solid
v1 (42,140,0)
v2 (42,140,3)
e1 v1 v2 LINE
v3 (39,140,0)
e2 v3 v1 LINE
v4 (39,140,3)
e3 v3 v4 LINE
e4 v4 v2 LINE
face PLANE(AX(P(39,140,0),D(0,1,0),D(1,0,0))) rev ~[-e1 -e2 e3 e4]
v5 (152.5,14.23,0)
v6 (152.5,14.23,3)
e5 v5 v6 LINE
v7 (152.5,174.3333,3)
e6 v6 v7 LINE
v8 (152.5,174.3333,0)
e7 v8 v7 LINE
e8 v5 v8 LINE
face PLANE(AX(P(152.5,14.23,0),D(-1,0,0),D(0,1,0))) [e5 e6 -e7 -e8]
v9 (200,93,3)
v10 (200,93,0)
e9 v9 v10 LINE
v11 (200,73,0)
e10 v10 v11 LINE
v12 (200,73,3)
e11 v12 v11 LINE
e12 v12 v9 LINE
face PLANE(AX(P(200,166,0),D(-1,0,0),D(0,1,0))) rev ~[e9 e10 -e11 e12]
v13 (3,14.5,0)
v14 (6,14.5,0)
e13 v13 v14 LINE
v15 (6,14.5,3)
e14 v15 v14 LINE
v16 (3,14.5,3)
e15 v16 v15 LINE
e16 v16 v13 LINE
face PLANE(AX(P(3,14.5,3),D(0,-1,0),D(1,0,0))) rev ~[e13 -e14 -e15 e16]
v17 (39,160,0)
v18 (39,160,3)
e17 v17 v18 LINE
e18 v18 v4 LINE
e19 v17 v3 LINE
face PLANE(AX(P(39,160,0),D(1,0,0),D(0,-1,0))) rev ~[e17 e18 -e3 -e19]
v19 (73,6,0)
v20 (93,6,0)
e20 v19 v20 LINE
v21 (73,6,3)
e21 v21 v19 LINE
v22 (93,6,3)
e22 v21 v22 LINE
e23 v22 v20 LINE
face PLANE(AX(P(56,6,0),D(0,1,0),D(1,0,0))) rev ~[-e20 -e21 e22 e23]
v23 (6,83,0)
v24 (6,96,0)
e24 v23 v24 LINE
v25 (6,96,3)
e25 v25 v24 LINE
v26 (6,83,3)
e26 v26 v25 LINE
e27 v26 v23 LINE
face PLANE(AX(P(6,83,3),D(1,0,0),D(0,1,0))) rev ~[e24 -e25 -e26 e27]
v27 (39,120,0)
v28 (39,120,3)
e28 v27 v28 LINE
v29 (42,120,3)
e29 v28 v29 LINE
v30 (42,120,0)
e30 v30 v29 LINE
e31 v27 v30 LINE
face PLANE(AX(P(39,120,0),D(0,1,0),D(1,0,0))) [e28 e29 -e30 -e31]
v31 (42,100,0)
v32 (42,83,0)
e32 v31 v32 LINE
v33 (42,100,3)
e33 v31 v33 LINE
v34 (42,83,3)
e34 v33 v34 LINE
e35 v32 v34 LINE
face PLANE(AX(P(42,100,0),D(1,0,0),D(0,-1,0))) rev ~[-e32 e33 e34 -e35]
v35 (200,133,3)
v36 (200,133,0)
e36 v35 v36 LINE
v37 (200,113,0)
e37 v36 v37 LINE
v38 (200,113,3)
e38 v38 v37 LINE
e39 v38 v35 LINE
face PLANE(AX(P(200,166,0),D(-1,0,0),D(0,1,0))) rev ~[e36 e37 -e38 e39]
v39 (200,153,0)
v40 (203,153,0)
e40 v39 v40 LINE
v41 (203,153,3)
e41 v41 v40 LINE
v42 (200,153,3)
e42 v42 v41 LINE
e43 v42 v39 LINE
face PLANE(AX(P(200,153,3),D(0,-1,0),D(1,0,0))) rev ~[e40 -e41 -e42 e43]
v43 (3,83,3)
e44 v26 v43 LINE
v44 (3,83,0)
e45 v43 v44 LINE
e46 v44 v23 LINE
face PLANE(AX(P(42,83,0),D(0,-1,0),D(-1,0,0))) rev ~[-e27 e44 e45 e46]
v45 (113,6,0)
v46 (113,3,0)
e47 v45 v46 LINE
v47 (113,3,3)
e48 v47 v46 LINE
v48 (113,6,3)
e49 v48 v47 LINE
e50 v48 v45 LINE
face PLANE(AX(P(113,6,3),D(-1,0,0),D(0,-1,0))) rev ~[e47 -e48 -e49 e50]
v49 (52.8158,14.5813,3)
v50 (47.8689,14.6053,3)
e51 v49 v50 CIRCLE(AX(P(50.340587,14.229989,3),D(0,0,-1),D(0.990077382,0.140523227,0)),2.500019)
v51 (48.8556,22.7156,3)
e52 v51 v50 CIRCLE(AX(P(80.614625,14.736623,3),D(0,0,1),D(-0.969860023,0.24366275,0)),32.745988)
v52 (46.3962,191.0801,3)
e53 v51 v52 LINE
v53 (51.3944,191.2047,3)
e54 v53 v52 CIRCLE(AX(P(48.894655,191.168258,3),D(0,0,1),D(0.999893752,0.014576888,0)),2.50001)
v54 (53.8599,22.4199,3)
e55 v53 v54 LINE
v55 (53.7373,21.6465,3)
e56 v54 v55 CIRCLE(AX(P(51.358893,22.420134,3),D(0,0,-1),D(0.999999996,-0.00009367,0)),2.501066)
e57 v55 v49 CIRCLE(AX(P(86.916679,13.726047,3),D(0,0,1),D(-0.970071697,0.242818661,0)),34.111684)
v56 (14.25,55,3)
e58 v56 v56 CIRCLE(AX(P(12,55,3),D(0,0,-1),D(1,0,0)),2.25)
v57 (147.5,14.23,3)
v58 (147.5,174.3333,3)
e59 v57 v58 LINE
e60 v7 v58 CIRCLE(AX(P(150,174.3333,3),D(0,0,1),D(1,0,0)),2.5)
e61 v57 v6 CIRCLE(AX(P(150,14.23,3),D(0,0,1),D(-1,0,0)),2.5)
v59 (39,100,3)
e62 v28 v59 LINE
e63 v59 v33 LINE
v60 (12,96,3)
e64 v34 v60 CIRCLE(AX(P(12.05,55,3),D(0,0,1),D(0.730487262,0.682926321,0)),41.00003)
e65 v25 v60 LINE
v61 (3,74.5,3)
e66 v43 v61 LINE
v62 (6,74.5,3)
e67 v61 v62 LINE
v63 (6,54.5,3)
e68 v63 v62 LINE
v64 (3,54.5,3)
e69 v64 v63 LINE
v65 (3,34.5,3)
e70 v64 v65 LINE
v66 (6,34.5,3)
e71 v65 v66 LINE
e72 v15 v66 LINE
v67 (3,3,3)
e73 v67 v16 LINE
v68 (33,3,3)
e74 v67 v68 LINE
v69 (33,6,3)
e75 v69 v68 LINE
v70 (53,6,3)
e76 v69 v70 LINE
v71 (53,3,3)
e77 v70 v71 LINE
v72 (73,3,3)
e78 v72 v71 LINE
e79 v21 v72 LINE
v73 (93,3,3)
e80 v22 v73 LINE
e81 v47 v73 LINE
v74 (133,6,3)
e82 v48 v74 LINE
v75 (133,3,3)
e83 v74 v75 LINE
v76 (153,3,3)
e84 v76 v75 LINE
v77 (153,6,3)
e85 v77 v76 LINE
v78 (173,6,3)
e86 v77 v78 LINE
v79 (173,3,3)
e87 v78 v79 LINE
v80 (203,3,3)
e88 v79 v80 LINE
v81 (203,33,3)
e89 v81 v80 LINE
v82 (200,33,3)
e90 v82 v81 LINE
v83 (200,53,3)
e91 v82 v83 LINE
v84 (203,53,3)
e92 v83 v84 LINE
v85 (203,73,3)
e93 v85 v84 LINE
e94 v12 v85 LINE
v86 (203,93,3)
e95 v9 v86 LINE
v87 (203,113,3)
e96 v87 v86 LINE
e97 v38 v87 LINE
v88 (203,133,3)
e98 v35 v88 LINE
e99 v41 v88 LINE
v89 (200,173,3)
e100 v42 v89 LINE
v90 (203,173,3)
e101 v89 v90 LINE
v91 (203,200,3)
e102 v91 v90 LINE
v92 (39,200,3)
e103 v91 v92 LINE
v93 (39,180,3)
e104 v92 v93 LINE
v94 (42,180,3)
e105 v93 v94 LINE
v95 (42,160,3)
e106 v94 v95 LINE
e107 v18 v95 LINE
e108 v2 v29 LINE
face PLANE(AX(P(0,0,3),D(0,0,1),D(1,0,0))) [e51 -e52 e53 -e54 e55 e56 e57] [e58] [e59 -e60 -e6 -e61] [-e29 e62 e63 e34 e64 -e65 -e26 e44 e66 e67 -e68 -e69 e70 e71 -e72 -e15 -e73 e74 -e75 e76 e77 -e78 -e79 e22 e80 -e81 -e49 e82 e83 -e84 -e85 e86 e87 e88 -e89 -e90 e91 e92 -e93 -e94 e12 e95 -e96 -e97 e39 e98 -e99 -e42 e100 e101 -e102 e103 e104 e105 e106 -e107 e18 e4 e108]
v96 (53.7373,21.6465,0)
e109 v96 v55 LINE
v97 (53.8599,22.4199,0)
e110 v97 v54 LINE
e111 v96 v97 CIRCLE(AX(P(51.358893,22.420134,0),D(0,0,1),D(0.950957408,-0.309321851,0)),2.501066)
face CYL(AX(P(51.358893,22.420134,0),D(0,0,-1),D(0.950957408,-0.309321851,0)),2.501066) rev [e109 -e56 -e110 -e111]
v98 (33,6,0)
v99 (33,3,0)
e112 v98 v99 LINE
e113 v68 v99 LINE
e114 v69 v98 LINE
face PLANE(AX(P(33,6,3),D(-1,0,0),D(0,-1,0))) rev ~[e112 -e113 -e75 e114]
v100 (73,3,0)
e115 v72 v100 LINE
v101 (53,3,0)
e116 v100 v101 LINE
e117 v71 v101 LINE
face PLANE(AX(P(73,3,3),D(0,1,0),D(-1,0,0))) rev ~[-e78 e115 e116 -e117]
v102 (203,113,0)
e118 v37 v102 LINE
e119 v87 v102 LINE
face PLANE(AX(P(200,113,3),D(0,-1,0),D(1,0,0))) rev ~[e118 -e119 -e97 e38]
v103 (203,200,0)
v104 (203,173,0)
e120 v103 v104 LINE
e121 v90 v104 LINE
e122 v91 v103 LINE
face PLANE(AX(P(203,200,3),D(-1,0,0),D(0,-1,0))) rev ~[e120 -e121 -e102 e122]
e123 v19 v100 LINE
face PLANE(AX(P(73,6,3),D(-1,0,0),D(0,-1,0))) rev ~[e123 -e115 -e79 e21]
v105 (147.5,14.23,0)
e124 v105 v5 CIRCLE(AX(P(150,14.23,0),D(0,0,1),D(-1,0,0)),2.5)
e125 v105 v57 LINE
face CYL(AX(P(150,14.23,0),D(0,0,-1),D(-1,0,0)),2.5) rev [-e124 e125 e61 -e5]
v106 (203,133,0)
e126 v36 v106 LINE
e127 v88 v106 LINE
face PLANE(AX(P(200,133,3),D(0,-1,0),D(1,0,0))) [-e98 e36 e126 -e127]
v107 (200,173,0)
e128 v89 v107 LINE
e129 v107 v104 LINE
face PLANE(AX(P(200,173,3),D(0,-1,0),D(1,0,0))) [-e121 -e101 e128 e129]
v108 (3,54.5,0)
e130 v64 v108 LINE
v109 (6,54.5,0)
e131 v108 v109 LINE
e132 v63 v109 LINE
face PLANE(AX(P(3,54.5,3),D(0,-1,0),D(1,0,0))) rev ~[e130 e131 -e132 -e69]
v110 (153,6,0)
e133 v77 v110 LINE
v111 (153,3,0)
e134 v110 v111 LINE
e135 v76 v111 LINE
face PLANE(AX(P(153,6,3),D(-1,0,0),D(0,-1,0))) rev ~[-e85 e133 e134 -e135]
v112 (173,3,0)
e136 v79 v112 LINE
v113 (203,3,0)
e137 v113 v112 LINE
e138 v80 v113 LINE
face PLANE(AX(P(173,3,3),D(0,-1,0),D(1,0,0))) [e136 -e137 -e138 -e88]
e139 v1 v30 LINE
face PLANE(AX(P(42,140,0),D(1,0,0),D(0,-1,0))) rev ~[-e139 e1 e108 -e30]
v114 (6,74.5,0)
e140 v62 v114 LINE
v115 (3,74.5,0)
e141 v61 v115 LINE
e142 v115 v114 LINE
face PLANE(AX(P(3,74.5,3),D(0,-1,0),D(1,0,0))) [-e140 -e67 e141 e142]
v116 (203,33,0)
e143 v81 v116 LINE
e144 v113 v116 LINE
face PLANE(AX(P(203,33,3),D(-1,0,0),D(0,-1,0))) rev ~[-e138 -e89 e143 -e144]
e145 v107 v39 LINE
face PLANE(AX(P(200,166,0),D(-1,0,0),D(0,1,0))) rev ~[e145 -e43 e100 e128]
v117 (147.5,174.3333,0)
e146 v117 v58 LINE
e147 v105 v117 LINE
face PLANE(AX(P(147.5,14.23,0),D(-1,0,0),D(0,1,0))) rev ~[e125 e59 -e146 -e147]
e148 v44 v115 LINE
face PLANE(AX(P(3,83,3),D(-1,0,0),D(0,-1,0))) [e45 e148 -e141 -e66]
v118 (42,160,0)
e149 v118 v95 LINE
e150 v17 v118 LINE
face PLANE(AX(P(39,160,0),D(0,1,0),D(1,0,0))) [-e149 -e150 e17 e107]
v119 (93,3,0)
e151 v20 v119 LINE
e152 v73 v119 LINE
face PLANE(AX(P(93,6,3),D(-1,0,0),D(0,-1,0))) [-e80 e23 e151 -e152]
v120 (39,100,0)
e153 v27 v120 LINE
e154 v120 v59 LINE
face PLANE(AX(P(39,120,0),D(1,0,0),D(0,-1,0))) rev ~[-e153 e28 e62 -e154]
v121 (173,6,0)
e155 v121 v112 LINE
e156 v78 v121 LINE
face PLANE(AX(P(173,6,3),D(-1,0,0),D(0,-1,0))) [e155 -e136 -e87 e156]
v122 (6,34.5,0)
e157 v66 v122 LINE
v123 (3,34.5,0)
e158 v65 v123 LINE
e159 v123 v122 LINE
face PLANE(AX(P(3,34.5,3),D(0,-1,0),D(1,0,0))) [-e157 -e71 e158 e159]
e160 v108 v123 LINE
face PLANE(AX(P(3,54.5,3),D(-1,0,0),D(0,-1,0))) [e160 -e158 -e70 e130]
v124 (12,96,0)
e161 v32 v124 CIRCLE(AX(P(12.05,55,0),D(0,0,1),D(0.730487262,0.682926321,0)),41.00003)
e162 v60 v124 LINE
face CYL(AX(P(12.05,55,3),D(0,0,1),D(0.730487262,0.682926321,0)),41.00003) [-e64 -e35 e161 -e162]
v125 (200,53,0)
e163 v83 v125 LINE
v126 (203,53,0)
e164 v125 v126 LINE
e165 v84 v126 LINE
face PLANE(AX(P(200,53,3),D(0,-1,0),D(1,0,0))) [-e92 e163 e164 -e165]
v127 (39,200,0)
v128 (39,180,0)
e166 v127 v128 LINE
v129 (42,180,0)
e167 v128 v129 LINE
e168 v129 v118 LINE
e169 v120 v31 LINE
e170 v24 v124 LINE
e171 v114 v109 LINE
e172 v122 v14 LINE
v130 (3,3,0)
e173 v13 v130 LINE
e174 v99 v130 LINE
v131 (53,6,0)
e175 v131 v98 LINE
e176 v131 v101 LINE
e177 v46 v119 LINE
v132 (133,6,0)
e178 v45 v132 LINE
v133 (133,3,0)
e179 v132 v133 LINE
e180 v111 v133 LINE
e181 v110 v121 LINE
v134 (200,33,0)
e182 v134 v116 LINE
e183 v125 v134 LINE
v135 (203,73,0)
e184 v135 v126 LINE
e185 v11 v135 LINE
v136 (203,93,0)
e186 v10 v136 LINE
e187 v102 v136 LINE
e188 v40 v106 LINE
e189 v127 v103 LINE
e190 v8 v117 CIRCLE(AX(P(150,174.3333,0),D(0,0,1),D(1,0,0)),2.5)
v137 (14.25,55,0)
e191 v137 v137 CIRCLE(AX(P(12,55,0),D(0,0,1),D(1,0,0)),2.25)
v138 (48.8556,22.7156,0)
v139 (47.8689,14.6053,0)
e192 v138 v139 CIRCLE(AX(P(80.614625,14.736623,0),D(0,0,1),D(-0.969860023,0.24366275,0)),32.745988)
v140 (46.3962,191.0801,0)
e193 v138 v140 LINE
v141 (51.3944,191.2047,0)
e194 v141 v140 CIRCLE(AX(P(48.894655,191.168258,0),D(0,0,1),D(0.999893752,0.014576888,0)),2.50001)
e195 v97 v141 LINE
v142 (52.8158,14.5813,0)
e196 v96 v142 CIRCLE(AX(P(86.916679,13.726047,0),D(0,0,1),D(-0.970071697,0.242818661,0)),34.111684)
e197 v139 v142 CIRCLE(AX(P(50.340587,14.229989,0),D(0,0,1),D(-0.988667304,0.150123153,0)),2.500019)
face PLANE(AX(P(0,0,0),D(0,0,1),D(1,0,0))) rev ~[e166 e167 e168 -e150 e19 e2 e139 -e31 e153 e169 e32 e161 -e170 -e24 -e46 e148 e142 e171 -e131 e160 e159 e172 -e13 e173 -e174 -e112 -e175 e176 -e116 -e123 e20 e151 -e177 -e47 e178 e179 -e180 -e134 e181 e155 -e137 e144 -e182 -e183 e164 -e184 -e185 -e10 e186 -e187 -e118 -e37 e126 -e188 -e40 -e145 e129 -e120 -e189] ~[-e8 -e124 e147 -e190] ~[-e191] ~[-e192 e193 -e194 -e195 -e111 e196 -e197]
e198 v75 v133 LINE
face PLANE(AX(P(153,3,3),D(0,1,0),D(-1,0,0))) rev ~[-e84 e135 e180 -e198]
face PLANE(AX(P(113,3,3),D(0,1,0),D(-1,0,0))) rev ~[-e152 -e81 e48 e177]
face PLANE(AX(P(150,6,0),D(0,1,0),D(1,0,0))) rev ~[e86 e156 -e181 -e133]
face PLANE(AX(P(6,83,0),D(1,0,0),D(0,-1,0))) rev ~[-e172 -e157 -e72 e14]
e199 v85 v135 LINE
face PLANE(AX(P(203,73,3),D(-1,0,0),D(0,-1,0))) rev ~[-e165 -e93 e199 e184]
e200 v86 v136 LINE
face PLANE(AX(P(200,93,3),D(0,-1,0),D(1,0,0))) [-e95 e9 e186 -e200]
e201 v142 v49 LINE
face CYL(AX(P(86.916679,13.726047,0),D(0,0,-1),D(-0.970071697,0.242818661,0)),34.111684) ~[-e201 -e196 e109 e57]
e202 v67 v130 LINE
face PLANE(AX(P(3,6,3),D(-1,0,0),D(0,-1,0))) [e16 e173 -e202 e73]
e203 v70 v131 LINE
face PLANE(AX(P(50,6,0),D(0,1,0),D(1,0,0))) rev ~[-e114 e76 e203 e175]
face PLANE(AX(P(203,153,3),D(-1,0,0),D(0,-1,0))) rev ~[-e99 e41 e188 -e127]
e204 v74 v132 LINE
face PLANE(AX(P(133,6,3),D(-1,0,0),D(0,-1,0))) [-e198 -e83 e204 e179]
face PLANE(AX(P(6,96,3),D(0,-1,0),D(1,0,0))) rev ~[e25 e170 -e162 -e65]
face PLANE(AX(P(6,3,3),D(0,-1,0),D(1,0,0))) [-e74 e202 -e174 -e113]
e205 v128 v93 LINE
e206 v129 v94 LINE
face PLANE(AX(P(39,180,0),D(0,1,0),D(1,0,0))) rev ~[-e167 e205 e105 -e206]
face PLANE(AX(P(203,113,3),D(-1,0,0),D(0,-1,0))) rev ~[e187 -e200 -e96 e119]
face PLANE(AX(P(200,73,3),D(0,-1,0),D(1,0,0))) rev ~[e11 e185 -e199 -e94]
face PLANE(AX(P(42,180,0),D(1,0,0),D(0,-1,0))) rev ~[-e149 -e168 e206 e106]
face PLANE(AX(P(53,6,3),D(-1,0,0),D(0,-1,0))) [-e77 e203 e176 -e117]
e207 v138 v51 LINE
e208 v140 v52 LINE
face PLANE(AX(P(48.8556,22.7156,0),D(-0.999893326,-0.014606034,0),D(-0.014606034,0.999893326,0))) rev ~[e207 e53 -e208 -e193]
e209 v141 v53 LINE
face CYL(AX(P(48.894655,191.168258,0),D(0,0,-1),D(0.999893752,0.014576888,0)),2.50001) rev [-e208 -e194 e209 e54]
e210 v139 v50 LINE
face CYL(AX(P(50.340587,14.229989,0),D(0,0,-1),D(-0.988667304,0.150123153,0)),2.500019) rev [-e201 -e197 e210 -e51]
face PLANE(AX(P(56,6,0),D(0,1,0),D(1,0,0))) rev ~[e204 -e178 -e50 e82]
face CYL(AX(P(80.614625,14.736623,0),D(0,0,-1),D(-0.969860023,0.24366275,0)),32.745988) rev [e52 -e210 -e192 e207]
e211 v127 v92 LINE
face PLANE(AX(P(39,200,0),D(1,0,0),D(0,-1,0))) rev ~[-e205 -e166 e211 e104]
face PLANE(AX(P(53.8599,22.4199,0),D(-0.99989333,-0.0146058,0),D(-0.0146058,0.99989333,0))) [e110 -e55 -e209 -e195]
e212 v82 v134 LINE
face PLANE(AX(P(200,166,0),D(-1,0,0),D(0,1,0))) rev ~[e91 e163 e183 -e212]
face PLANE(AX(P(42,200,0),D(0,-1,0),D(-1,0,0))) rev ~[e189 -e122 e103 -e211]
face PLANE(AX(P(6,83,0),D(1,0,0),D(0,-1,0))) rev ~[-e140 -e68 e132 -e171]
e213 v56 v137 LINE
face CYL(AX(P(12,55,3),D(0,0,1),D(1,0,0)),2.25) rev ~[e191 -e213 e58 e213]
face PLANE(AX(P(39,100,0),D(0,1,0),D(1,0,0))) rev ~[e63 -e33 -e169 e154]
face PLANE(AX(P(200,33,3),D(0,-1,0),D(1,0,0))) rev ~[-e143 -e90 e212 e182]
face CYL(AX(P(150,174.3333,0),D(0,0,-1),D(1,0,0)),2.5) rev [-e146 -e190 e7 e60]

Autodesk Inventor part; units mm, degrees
ref_plane "YZ Plane" through (0, 0, 0) normal (1, 0, 0) x (0, 1, 0)
ref_plane "XZ Plane" through (0, 0, 0) normal (0, 1, 0) x (-1, 0, 0)
ref_plane "XY Plane" through (0, 0, 0) normal (0, 0, 1) x (1, 0, 0)
sketch "Sketch1" plane through (0, 0, 0) normal (0, 0, 1) x (1, 0, 0)
  line L0 (6, 6) -> (200, 6)
  line L1 (200, 6) -> (200, 200)
  line L2 (200, 200) -> (42, 200)
  line L3 (6, 83) -> (6, 6)
  line L4 (6, 6) -> (56, 6)
  line L5 (200, 6) -> (150, 6)
  line L6 (200, 6) -> (200, 153)
  line L7 (150, 6) -> (142.5, 6)
  line L8 (200, 6) -> (200, 166)
  arc A0 (152.5, 174.3333) -> (147.5, 174.3333) centre (150, 174.3333) ccw
  line L9 (150, 6) -> (50, 6)
  arc A1 (47.8689, 14.6053) -> (52.8158, 14.5813) centre (50.3406, 14.23) ccw
  arc A2 (53.8259, 22.009) -> (52.8051, 13.8106) centre (86.918, 13.7258) ccw
  arc A3 (51.3944, 191.2047) -> (46.3962, 191.0801) centre (48.8946, 191.1682) ccw
  line L10 (53.8599, 22.4199) -> (51.3944, 191.2047)
  line L11 (48.8556, 22.7156) -> (46.3962, 191.0801)
  arc A4 (53.7373, 21.6465) -> (53.8589, 22.4929) centre (51.3599, 22.4199) ccw
  arc A5 (48.8556, 22.7156) -> (47.8689, 14.6053) centre (80.6169, 14.7362) ccw
  line L12 (52.8406, 14.23) -> (52.8088, 14.23)
  arc A6 (147.5, 14.23) -> (152.5, 14.23) centre (150, 14.23) ccw
  line L13 (147.5, 14.23) -> (147.5, 174.3333)
  line L14 (152.5, 14.23) -> (152.5, 174.3333)
  line L15 (42, 83) -> (6, 83)
  line L16 (42, 200) -> (39, 200)
  line L17 (39, 200) -> (39, 180)
  line L18 (39, 160) -> (39, 140)
  line L19 (39, 120) -> (39, 100)
  line L20 (39, 100) -> (42, 100)
  line L21 (39, 120) -> (42, 120)
  line L22 (39, 140) -> (42, 140)
  line L23 (39, 160) -> (42, 160)
  line L24 (39, 180) -> (42, 180)
  line L25 (39, 120) -> (39, 100)
  line L26 (39, 200) -> (39, 180)
  line L27 (39, 160) -> (39, 140)
  line L28 (42, 180) -> (42, 160)
  line L29 (42, 140) -> (42, 120)
  line L30 (42, 100) -> (42, 83)
  dimension "d1" = 194
extrude "Extrusion1" add sketch "Sketch1" along normal blind 3
sketch "Sketch2" plane through (0, 0, 3) normal (0, 0, 1) x (1, 0, 0)
  line L0 (200, 6) -> (200, 200) projected
  line L1 (200, 200) -> (39, 200) projected
  line L2 (42, 180) -> (42, 160) projected
  line L3 (42, 83) -> (6, 83) projected
  line L4 (6, 83) -> (6, 6) projected
  line L5 (6, 6) -> (200, 6) projected
  line L6 (147.5, 14.23) -> (147.5, 174.3333) projected
  arc A0 (152.5, 174.3333) -> (147.5, 174.3333) centre (150, 174.3333) ccw projected
  line L7 (152.5, 174.3333) -> (152.5, 14.23) projected
  arc A1 (147.5, 14.23) -> (152.5, 14.23) centre (150, 14.23) ccw projected
  arc A2 (51.3944, 191.2047) -> (46.3962, 191.0801) centre (48.8946, 191.1682) ccw projected
  line L8 (51.3944, 191.2047) -> (53.8589, 22.4929) projected
  arc A3 (53.7373, 21.6465) -> (53.8589, 22.4929) centre (51.3599, 22.4199) ccw projected
  arc A4 (53.7373, 21.6465) -> (52.8158, 14.5813) centre (86.918, 13.7258) ccw projected
  arc A5 (47.8689, 14.6053) -> (52.8158, 14.5813) centre (50.3406, 14.23) ccw projected
  arc A6 (48.8556, 22.7156) -> (47.8689, 14.6053) centre (80.6169, 14.7362) ccw projected
  line L9 (48.8556, 22.7156) -> (46.3962, 191.0801) projected
  line L10 (6, 6) -> (33, 6)
  line L11 (33, 6) -> (53, 6)
  line L12 (53, 6) -> (73, 6)
  line L13 (73, 6) -> (93, 6)
  line L14 (93, 6) -> (113, 6)
  line L15 (113, 6) -> (133, 6)
  line L16 (133, 6) -> (153, 6)
  line L17 (153, 6) -> (173, 6)
  line L18 (6, 6) -> (6, 9)
  line L19 (33, 6) -> (33, 3)
  line L20 (173, 6) -> (173, 3)
  line L21 (53, 6) -> (53, 3)
  line L22 (93, 6) -> (93, 3)
  line L23 (73, 6) -> (73, 3)
  line L24 (133, 6) -> (133, 3)
  line L25 (113, 6) -> (113, 3)
  line L26 (153, 6) -> (153, 3)
  line L27 (6, 6) -> (6, 3)
  line L28 (6, 3) -> (33, 3)
  line L29 (173, 3) -> (200, 3)
  line L30 (200, 3) -> (200, 6.6126)
  line L31 (73, 3) -> (53, 3)
  line L32 (153, 3) -> (133, 3)
  line L33 (113, 3) -> (93, 3)
  line L34 (39, 200) -> (39, 180) projected
  line L35 (39, 180) -> (42, 180) projected
  line L36 (42, 160) -> (39, 160) projected
  line L37 (39, 160) -> (39, 140) projected
  line L38 (39, 140) -> (42, 140) projected
  line L39 (42, 140) -> (42, 120) projected
  line L40 (42, 120) -> (39, 120) projected
  line L41 (39, 120) -> (39, 100) projected
  line L42 (39, 100) -> (42, 100) projected
  line L43 (42, 100) -> (42, 83) projected
  point P0 (120.702, 9)
  point P1 (49.056, 9)
extrude "Extrusion2" add sketch "Sketch2" against normal blind 3 contours L30 L29 L20 L5 | L26 L32 L24 L5 | L25 L33 L22 L5 | L23 L31 L21 L5 | L19 L28 L27 L5
sketch "Sketch3" plane through (0, 0, 3) normal (0, 0, 1) x (1, 0, 0)
  line L0 (153, 6) -> (173, 6) projected
  line L1 (113, 6) -> (133, 6) projected
  line L2 (200, 3) -> (200, 200) projected
  line L3 (200, 200) -> (39, 200) projected
  line L4 (42, 180) -> (42, 160) projected
  line L5 (42, 83) -> (6, 83) projected
  line L6 (6, 83) -> (6, 3) projected
  line L7 (73, 6) -> (93, 6) projected
  line L8 (33, 6) -> (53, 6) projected
  line L9 (147.5, 14.23) -> (147.5, 174.3333) projected
  arc A0 (152.5, 174.3333) -> (147.5, 174.3333) centre (150, 174.3333) ccw projected
  line L10 (152.5, 174.3333) -> (152.5, 14.23) projected
  arc A1 (147.5, 14.23) -> (152.5, 14.23) centre (150, 14.23) ccw projected
  arc A2 (51.3944, 191.2047) -> (46.3962, 191.0801) centre (48.8946, 191.1682) ccw projected
  line L11 (51.3944, 191.2047) -> (53.8589, 22.4929) projected
  arc A3 (53.7373, 21.6465) -> (53.8589, 22.4929) centre (51.3599, 22.4199) ccw projected
  arc A4 (53.7373, 21.6465) -> (52.8158, 14.5813) centre (86.918, 13.7258) ccw projected
  arc A5 (47.8689, 14.6053) -> (52.8158, 14.5813) centre (50.3406, 14.23) ccw projected
  arc A6 (48.8556, 22.7156) -> (47.8689, 14.6053) centre (80.6169, 14.7362) ccw projected
  line L12 (48.8556, 22.7156) -> (46.3962, 191.0801) projected
  line L13 (6, 83) -> (6, 80)
  line L14 (6, 83) -> (3, 83)
  line L15 (3, 6) -> (3, 14.5)
  line L16 (3, 83) -> (3, 74.5)
  line L17 (3, 54.5) -> (3, 34.5)
  line L18 (3, 74.5) -> (6, 74.5)
  line L19 (3, 54.5) -> (6, 54.5)
  line L20 (3, 34.5) -> (6, 34.5)
  line L21 (3, 14.5) -> (6, 14.5)
  line L22 (3, 14.5) -> (3, 6)
  line L23 (3, 83) -> (3, 74.5)
  line L24 (3, 54.5) -> (3, 34.5)
  line L25 (3, 6) -> (3, 3)
  line L26 (3, 3) -> (6, 3)
  line L27 (6, 3) -> (6, 6)
  line L28 (6, 3) -> (33, 3) projected
  line L29 (33, 3) -> (33, 6) projected
  line L30 (53, 6) -> (53, 3) projected
  line L31 (53, 3) -> (73, 3) projected
  line L32 (73, 3) -> (73, 6) projected
  line L33 (93, 6) -> (93, 3) projected
  line L34 (93, 3) -> (113, 3) projected
  line L35 (113, 3) -> (113, 6) projected
  line L36 (133, 6) -> (133, 3) projected
  line L37 (133, 3) -> (153, 3) projected
  line L38 (153, 3) -> (153, 6) projected
  line L39 (173, 6) -> (173, 3) projected
  line L40 (173, 3) -> (200, 3) projected
  line L41 (39, 200) -> (39, 180) projected
  line L42 (39, 180) -> (42, 180) projected
  line L43 (42, 160) -> (39, 160) projected
  line L44 (39, 160) -> (39, 140) projected
  line L45 (39, 140) -> (42, 140) projected
  line L46 (42, 140) -> (42, 120) projected
  line L47 (42, 120) -> (39, 120) projected
  line L48 (39, 120) -> (39, 100) projected
  line L49 (39, 100) -> (42, 100) projected
  line L50 (42, 100) -> (42, 83) projected
  point P0 (6, 3)
  dimension "d43" = 3
extrude "Extrusion3" add sketch "Sketch3" against normal blind 3 contours L26 L25 L15 L21 L6 | L6 L18 L16 L14 | L20 L17 L19 L6
sketch "Sketch4" plane through (0, 0, 3) normal (0, 0, 1) x (1, 0, 0)
  line L0 (153, 6) -> (173, 6) projected
  line L1 (113, 6) -> (133, 6) projected
  line L2 (200, 200) -> (39, 200) projected
  line L3 (42, 180) -> (42, 160) projected
  line L4 (42, 83) -> (3, 83) projected
  line L5 (3, 83) -> (3, 74.5) projected
  line L6 (3, 74.5) -> (6, 74.5) projected
  line L7 (6, 74.5) -> (6, 54.5) projected
  line L8 (6, 54.5) -> (3, 54.5) projected
  line L9 (3, 54.5) -> (3, 34.5) projected
  line L10 (3, 34.5) -> (6, 34.5) projected
  line L11 (73, 6) -> (93, 6) projected
  line L12 (33, 6) -> (53, 6) projected
  line L13 (147.5, 14.23) -> (147.5, 174.3333) projected
  arc A0 (152.5, 174.3333) -> (147.5, 174.3333) centre (150, 174.3333) ccw projected
  line L14 (152.5, 174.3333) -> (152.5, 14.23) projected
  arc A1 (147.5, 14.23) -> (152.5, 14.23) centre (150, 14.23) ccw projected
  arc A2 (51.3944, 191.2047) -> (46.3962, 191.0801) centre (48.8946, 191.1682) ccw projected
  line L15 (51.3944, 191.2047) -> (53.8589, 22.4929) projected
  arc A3 (53.7373, 21.6465) -> (53.8589, 22.4929) centre (51.3599, 22.4199) ccw projected
  arc A4 (53.7373, 21.6465) -> (52.8158, 14.5813) centre (86.918, 13.7258) ccw projected
  arc A5 (47.8689, 14.6053) -> (52.8158, 14.5813) centre (50.3406, 14.23) ccw projected
  arc A6 (48.8556, 22.7156) -> (47.8689, 14.6053) centre (80.6169, 14.7362) ccw projected
  line L16 (48.8556, 22.7156) -> (46.3962, 191.0801) projected
  line L17 (200, 200) -> (203, 200)
  line L18 (200, 6) -> (200, 33)
  line L19 (200, 33) -> (200, 53)
  line L20 (200, 53) -> (200, 73)
  line L21 (200, 73) -> (200, 93)
  line L22 (200, 93) -> (200, 113)
  line L23 (200, 113) -> (200, 133)
  line L24 (200, 133) -> (200, 153)
  line L25 (200, 153) -> (200, 173)
  line L26 (200, 173) -> (200, 200)
  line L27 (200, 173) -> (203, 173)
  line L28 (200, 153) -> (203, 153)
  line L29 (200, 133) -> (203, 133)
  line L30 (200, 113) -> (203, 113)
  line L31 (200, 93) -> (203, 93)
  line L32 (200, 73) -> (203, 73)
  line L33 (200, 53) -> (203, 53)
  line L34 (200, 33) -> (203, 33)
  line L35 (203, 200) -> (203, 173)
  line L36 (203, 153) -> (203, 133)
  line L37 (203, 113) -> (203, 93)
  line L38 (203, 73) -> (203, 53)
  line L39 (203, 33) -> (203, 6)
  line L40 (200, 3) -> (200, 200) projected
  line L41 (6, 34.5) -> (6, 14.5) projected
  line L42 (3, 3) -> (33, 3) projected
  line L43 (33, 3) -> (33, 6) projected
  line L44 (53, 6) -> (53, 3) projected
  line L45 (53, 3) -> (73, 3) projected
  line L46 (73, 3) -> (73, 6) projected
  line L47 (93, 6) -> (93, 3) projected
  line L48 (93, 3) -> (113, 3) projected
  line L49 (113, 3) -> (113, 6) projected
  line L50 (133, 6) -> (133, 3) projected
  line L51 (133, 3) -> (153, 3) projected
  line L52 (153, 3) -> (153, 6) projected
  line L53 (173, 6) -> (173, 3) projected
  line L54 (173, 3) -> (200, 3) projected
  line L55 (6, 14.5) -> (3, 14.5) projected
  line L56 (3, 14.5) -> (3, 3) projected
  line L57 (200, 3) -> (203, 3)
  line L58 (203, 3) -> (203, 6)
  line L59 (39, 200) -> (39, 180) projected
  line L60 (39, 180) -> (42, 180) projected
  line L61 (42, 160) -> (39, 160) projected
  line L62 (39, 160) -> (39, 140) projected
  line L63 (39, 140) -> (42, 140) projected
  line L64 (42, 140) -> (42, 120) projected
  line L65 (42, 120) -> (39, 120) projected
  line L66 (39, 120) -> (39, 100) projected
  line L67 (39, 100) -> (42, 100) projected
  line L68 (42, 100) -> (42, 83) projected
extrude "Extrusion4" add sketch "Sketch4" against normal blind 3 contours L40 L18 L34 L39 L58 L57 | L20 L32 L38 L33 | L22 L30 L37 L31 | L24 L28 L36 L29 | L26 L17 L35 L27
sketch "Sketch7" plane through (0, 0, 3) normal (0, 0, 1) x (1, 0, 0)
  line L0 (6, 60) -> (18, 60)
  line L1 (18, 60) -> (18, 50)
  line L2 (18, 50) -> (6, 50)
  line L3 (6, 50) -> (6, 60)
  line L4 (6, 60) -> (18, 50) construction
  line L5 (18, 60) -> (6, 50) construction
  line L6 (12, 55) -> (7.5, 55)
  line L7 (7.5, 55) -> (16.5, 55)
  circle A0 centre (7.5, 55) radius 0.625
  circle A1 centre (16.5, 55) radius 0.625
  line L8 (6.875, 55) -> (12, 55)
  circle A2 centre (12, 55) radius 2.25
  dimension "d74" = 1.25
  dimension "d70" = 12
  dimension "d71" = 10
  dimension "d72" = 4.5
  dimension "d73" = 9
  dimension "d75" = 1.25
  dimension "d78" = 4.5
extrude "Extrusion5" cut sketch "Sketch7" against normal blind 3 contours A2 L7 L6 | L6 L7 A2
sketch "Sketch8" plane through (0, 0, 3) normal (0, 0, 1) x (1, 0, 0)
  circle A0 centre (12, 55) radius 2.25 projected
  line L0 (12, 55) -> (12, 96)
  circle A1 centre (12, 55) radius 2.25 projected
  line L1 (200, 33) -> (200, 53) projected
  line L2 (200, 53) -> (203, 53) projected
  line L3 (203, 53) -> (203, 73) projected
  line L4 (203, 73) -> (200, 73) projected
  line L5 (200, 73) -> (200, 93) projected
  line L6 (200, 93) -> (203, 93) projected
  line L7 (203, 93) -> (203, 113) projected
  line L8 (203, 113) -> (200, 113) projected
  line L9 (200, 113) -> (200, 133) projected
  line L10 (200, 133) -> (203, 133) projected
  line L11 (203, 133) -> (203, 153) projected
  line L12 (203, 153) -> (200, 153) projected
  line L13 (200, 153) -> (200, 173) projected
  line L14 (200, 173) -> (203, 173) projected
  line L15 (203, 173) -> (203, 200) projected
  line L16 (203, 200) -> (39, 200) projected
  line L17 (42, 180) -> (42, 160) projected
  line L18 (42, 83) -> (3, 83) projected
  line L19 (3, 83) -> (3, 74.5) projected
  line L20 (3, 74.5) -> (6, 74.5) projected
  line L21 (6, 74.5) -> (6, 54.5) projected
  line L22 (6, 54.5) -> (3, 54.5) projected
  line L23 (3, 54.5) -> (3, 34.5) projected
  line L24 (3, 34.5) -> (6, 34.5) projected
  line L25 (6, 34.5) -> (6, 14.5) projected
  line L26 (6, 14.5) -> (3, 14.5) projected
  line L27 (3, 14.5) -> (3, 3) projected
  line L28 (3, 3) -> (33, 3) projected
  line L29 (33, 3) -> (33, 6) projected
  line L30 (33, 6) -> (53, 6) projected
  line L31 (53, 6) -> (53, 3) projected
  line L32 (53, 3) -> (73, 3) projected
  line L33 (73, 3) -> (73, 6) projected
  line L34 (73, 6) -> (93, 6) projected
  line L35 (93, 6) -> (93, 3) projected
  line L36 (93, 3) -> (113, 3) projected
  line L37 (113, 3) -> (113, 6) projected
  line L38 (113, 6) -> (133, 6) projected
  line L39 (133, 6) -> (133, 3) projected
  line L40 (133, 3) -> (153, 3) projected
  line L41 (153, 3) -> (153, 6) projected
  line L42 (153, 6) -> (173, 6) projected
  line L43 (173, 6) -> (173, 3) projected
  line L44 (173, 3) -> (203, 3) projected
  line L45 (203, 3) -> (203, 33) projected
  line L46 (203, 33) -> (200, 33) projected
  line L47 (147.5, 14.23) -> (147.5, 174.3333) projected
  arc A2 (152.5, 174.3333) -> (147.5, 174.3333) centre (150, 174.3333) ccw projected
  line L48 (152.5, 174.3333) -> (152.5, 14.23) projected
  arc A3 (147.5, 14.23) -> (152.5, 14.23) centre (150, 14.23) ccw projected
  arc A4 (51.3944, 191.2047) -> (46.3962, 191.0801) centre (48.8946, 191.1682) ccw projected
  line L49 (51.3944, 191.2047) -> (53.8589, 22.4929) projected
  arc A5 (53.7373, 21.6465) -> (53.8589, 22.4929) centre (51.3599, 22.4199) ccw projected
  arc A6 (53.7373, 21.6465) -> (52.8158, 14.5813) centre (86.918, 13.7258) ccw projected
  arc A7 (47.8689, 14.6053) -> (52.8158, 14.5813) centre (50.3406, 14.23) ccw projected
  arc A8 (48.8556, 22.7156) -> (47.8689, 14.6053) centre (80.6169, 14.7362) ccw projected
  line L50 (48.8556, 22.7156) -> (46.3962, 191.0801) projected
  line L51 (42, 83) -> (3, 83) projected
  line L52 (12, 55) -> (42, 83)
  arc A9 (42, 83) -> (12, 96) centre (12.05, 55) ccw
  line L53 (3, 83) -> (6, 83)
  line L54 (6, 83) -> (6, 96)
  line L55 (6, 96) -> (12, 96)
  line L56 (6, 83) -> (42, 83)
  line L57 (39, 200) -> (39, 180) projected
  line L58 (39, 180) -> (42, 180) projected
  line L59 (42, 160) -> (39, 160) projected
  line L60 (39, 160) -> (39, 140) projected
  line L61 (39, 140) -> (42, 140) projected
  line L62 (42, 140) -> (42, 120) projected
  line L63 (42, 120) -> (39, 120) projected
  line L64 (39, 120) -> (39, 100) projected
  line L65 (39, 100) -> (42, 100) projected
  line L66 (42, 100) -> (42, 83) projected
  dimension "d79" = 41
  dimension "d80" = 41
  dimension "d81" = 3
  dimension "d82" = 13
extrude "Extrusion6" add sketch "Sketch8" against normal blind 3 contours L18 L0 A9 | L18 L54 L55 L0
properties part number "inside walls"
